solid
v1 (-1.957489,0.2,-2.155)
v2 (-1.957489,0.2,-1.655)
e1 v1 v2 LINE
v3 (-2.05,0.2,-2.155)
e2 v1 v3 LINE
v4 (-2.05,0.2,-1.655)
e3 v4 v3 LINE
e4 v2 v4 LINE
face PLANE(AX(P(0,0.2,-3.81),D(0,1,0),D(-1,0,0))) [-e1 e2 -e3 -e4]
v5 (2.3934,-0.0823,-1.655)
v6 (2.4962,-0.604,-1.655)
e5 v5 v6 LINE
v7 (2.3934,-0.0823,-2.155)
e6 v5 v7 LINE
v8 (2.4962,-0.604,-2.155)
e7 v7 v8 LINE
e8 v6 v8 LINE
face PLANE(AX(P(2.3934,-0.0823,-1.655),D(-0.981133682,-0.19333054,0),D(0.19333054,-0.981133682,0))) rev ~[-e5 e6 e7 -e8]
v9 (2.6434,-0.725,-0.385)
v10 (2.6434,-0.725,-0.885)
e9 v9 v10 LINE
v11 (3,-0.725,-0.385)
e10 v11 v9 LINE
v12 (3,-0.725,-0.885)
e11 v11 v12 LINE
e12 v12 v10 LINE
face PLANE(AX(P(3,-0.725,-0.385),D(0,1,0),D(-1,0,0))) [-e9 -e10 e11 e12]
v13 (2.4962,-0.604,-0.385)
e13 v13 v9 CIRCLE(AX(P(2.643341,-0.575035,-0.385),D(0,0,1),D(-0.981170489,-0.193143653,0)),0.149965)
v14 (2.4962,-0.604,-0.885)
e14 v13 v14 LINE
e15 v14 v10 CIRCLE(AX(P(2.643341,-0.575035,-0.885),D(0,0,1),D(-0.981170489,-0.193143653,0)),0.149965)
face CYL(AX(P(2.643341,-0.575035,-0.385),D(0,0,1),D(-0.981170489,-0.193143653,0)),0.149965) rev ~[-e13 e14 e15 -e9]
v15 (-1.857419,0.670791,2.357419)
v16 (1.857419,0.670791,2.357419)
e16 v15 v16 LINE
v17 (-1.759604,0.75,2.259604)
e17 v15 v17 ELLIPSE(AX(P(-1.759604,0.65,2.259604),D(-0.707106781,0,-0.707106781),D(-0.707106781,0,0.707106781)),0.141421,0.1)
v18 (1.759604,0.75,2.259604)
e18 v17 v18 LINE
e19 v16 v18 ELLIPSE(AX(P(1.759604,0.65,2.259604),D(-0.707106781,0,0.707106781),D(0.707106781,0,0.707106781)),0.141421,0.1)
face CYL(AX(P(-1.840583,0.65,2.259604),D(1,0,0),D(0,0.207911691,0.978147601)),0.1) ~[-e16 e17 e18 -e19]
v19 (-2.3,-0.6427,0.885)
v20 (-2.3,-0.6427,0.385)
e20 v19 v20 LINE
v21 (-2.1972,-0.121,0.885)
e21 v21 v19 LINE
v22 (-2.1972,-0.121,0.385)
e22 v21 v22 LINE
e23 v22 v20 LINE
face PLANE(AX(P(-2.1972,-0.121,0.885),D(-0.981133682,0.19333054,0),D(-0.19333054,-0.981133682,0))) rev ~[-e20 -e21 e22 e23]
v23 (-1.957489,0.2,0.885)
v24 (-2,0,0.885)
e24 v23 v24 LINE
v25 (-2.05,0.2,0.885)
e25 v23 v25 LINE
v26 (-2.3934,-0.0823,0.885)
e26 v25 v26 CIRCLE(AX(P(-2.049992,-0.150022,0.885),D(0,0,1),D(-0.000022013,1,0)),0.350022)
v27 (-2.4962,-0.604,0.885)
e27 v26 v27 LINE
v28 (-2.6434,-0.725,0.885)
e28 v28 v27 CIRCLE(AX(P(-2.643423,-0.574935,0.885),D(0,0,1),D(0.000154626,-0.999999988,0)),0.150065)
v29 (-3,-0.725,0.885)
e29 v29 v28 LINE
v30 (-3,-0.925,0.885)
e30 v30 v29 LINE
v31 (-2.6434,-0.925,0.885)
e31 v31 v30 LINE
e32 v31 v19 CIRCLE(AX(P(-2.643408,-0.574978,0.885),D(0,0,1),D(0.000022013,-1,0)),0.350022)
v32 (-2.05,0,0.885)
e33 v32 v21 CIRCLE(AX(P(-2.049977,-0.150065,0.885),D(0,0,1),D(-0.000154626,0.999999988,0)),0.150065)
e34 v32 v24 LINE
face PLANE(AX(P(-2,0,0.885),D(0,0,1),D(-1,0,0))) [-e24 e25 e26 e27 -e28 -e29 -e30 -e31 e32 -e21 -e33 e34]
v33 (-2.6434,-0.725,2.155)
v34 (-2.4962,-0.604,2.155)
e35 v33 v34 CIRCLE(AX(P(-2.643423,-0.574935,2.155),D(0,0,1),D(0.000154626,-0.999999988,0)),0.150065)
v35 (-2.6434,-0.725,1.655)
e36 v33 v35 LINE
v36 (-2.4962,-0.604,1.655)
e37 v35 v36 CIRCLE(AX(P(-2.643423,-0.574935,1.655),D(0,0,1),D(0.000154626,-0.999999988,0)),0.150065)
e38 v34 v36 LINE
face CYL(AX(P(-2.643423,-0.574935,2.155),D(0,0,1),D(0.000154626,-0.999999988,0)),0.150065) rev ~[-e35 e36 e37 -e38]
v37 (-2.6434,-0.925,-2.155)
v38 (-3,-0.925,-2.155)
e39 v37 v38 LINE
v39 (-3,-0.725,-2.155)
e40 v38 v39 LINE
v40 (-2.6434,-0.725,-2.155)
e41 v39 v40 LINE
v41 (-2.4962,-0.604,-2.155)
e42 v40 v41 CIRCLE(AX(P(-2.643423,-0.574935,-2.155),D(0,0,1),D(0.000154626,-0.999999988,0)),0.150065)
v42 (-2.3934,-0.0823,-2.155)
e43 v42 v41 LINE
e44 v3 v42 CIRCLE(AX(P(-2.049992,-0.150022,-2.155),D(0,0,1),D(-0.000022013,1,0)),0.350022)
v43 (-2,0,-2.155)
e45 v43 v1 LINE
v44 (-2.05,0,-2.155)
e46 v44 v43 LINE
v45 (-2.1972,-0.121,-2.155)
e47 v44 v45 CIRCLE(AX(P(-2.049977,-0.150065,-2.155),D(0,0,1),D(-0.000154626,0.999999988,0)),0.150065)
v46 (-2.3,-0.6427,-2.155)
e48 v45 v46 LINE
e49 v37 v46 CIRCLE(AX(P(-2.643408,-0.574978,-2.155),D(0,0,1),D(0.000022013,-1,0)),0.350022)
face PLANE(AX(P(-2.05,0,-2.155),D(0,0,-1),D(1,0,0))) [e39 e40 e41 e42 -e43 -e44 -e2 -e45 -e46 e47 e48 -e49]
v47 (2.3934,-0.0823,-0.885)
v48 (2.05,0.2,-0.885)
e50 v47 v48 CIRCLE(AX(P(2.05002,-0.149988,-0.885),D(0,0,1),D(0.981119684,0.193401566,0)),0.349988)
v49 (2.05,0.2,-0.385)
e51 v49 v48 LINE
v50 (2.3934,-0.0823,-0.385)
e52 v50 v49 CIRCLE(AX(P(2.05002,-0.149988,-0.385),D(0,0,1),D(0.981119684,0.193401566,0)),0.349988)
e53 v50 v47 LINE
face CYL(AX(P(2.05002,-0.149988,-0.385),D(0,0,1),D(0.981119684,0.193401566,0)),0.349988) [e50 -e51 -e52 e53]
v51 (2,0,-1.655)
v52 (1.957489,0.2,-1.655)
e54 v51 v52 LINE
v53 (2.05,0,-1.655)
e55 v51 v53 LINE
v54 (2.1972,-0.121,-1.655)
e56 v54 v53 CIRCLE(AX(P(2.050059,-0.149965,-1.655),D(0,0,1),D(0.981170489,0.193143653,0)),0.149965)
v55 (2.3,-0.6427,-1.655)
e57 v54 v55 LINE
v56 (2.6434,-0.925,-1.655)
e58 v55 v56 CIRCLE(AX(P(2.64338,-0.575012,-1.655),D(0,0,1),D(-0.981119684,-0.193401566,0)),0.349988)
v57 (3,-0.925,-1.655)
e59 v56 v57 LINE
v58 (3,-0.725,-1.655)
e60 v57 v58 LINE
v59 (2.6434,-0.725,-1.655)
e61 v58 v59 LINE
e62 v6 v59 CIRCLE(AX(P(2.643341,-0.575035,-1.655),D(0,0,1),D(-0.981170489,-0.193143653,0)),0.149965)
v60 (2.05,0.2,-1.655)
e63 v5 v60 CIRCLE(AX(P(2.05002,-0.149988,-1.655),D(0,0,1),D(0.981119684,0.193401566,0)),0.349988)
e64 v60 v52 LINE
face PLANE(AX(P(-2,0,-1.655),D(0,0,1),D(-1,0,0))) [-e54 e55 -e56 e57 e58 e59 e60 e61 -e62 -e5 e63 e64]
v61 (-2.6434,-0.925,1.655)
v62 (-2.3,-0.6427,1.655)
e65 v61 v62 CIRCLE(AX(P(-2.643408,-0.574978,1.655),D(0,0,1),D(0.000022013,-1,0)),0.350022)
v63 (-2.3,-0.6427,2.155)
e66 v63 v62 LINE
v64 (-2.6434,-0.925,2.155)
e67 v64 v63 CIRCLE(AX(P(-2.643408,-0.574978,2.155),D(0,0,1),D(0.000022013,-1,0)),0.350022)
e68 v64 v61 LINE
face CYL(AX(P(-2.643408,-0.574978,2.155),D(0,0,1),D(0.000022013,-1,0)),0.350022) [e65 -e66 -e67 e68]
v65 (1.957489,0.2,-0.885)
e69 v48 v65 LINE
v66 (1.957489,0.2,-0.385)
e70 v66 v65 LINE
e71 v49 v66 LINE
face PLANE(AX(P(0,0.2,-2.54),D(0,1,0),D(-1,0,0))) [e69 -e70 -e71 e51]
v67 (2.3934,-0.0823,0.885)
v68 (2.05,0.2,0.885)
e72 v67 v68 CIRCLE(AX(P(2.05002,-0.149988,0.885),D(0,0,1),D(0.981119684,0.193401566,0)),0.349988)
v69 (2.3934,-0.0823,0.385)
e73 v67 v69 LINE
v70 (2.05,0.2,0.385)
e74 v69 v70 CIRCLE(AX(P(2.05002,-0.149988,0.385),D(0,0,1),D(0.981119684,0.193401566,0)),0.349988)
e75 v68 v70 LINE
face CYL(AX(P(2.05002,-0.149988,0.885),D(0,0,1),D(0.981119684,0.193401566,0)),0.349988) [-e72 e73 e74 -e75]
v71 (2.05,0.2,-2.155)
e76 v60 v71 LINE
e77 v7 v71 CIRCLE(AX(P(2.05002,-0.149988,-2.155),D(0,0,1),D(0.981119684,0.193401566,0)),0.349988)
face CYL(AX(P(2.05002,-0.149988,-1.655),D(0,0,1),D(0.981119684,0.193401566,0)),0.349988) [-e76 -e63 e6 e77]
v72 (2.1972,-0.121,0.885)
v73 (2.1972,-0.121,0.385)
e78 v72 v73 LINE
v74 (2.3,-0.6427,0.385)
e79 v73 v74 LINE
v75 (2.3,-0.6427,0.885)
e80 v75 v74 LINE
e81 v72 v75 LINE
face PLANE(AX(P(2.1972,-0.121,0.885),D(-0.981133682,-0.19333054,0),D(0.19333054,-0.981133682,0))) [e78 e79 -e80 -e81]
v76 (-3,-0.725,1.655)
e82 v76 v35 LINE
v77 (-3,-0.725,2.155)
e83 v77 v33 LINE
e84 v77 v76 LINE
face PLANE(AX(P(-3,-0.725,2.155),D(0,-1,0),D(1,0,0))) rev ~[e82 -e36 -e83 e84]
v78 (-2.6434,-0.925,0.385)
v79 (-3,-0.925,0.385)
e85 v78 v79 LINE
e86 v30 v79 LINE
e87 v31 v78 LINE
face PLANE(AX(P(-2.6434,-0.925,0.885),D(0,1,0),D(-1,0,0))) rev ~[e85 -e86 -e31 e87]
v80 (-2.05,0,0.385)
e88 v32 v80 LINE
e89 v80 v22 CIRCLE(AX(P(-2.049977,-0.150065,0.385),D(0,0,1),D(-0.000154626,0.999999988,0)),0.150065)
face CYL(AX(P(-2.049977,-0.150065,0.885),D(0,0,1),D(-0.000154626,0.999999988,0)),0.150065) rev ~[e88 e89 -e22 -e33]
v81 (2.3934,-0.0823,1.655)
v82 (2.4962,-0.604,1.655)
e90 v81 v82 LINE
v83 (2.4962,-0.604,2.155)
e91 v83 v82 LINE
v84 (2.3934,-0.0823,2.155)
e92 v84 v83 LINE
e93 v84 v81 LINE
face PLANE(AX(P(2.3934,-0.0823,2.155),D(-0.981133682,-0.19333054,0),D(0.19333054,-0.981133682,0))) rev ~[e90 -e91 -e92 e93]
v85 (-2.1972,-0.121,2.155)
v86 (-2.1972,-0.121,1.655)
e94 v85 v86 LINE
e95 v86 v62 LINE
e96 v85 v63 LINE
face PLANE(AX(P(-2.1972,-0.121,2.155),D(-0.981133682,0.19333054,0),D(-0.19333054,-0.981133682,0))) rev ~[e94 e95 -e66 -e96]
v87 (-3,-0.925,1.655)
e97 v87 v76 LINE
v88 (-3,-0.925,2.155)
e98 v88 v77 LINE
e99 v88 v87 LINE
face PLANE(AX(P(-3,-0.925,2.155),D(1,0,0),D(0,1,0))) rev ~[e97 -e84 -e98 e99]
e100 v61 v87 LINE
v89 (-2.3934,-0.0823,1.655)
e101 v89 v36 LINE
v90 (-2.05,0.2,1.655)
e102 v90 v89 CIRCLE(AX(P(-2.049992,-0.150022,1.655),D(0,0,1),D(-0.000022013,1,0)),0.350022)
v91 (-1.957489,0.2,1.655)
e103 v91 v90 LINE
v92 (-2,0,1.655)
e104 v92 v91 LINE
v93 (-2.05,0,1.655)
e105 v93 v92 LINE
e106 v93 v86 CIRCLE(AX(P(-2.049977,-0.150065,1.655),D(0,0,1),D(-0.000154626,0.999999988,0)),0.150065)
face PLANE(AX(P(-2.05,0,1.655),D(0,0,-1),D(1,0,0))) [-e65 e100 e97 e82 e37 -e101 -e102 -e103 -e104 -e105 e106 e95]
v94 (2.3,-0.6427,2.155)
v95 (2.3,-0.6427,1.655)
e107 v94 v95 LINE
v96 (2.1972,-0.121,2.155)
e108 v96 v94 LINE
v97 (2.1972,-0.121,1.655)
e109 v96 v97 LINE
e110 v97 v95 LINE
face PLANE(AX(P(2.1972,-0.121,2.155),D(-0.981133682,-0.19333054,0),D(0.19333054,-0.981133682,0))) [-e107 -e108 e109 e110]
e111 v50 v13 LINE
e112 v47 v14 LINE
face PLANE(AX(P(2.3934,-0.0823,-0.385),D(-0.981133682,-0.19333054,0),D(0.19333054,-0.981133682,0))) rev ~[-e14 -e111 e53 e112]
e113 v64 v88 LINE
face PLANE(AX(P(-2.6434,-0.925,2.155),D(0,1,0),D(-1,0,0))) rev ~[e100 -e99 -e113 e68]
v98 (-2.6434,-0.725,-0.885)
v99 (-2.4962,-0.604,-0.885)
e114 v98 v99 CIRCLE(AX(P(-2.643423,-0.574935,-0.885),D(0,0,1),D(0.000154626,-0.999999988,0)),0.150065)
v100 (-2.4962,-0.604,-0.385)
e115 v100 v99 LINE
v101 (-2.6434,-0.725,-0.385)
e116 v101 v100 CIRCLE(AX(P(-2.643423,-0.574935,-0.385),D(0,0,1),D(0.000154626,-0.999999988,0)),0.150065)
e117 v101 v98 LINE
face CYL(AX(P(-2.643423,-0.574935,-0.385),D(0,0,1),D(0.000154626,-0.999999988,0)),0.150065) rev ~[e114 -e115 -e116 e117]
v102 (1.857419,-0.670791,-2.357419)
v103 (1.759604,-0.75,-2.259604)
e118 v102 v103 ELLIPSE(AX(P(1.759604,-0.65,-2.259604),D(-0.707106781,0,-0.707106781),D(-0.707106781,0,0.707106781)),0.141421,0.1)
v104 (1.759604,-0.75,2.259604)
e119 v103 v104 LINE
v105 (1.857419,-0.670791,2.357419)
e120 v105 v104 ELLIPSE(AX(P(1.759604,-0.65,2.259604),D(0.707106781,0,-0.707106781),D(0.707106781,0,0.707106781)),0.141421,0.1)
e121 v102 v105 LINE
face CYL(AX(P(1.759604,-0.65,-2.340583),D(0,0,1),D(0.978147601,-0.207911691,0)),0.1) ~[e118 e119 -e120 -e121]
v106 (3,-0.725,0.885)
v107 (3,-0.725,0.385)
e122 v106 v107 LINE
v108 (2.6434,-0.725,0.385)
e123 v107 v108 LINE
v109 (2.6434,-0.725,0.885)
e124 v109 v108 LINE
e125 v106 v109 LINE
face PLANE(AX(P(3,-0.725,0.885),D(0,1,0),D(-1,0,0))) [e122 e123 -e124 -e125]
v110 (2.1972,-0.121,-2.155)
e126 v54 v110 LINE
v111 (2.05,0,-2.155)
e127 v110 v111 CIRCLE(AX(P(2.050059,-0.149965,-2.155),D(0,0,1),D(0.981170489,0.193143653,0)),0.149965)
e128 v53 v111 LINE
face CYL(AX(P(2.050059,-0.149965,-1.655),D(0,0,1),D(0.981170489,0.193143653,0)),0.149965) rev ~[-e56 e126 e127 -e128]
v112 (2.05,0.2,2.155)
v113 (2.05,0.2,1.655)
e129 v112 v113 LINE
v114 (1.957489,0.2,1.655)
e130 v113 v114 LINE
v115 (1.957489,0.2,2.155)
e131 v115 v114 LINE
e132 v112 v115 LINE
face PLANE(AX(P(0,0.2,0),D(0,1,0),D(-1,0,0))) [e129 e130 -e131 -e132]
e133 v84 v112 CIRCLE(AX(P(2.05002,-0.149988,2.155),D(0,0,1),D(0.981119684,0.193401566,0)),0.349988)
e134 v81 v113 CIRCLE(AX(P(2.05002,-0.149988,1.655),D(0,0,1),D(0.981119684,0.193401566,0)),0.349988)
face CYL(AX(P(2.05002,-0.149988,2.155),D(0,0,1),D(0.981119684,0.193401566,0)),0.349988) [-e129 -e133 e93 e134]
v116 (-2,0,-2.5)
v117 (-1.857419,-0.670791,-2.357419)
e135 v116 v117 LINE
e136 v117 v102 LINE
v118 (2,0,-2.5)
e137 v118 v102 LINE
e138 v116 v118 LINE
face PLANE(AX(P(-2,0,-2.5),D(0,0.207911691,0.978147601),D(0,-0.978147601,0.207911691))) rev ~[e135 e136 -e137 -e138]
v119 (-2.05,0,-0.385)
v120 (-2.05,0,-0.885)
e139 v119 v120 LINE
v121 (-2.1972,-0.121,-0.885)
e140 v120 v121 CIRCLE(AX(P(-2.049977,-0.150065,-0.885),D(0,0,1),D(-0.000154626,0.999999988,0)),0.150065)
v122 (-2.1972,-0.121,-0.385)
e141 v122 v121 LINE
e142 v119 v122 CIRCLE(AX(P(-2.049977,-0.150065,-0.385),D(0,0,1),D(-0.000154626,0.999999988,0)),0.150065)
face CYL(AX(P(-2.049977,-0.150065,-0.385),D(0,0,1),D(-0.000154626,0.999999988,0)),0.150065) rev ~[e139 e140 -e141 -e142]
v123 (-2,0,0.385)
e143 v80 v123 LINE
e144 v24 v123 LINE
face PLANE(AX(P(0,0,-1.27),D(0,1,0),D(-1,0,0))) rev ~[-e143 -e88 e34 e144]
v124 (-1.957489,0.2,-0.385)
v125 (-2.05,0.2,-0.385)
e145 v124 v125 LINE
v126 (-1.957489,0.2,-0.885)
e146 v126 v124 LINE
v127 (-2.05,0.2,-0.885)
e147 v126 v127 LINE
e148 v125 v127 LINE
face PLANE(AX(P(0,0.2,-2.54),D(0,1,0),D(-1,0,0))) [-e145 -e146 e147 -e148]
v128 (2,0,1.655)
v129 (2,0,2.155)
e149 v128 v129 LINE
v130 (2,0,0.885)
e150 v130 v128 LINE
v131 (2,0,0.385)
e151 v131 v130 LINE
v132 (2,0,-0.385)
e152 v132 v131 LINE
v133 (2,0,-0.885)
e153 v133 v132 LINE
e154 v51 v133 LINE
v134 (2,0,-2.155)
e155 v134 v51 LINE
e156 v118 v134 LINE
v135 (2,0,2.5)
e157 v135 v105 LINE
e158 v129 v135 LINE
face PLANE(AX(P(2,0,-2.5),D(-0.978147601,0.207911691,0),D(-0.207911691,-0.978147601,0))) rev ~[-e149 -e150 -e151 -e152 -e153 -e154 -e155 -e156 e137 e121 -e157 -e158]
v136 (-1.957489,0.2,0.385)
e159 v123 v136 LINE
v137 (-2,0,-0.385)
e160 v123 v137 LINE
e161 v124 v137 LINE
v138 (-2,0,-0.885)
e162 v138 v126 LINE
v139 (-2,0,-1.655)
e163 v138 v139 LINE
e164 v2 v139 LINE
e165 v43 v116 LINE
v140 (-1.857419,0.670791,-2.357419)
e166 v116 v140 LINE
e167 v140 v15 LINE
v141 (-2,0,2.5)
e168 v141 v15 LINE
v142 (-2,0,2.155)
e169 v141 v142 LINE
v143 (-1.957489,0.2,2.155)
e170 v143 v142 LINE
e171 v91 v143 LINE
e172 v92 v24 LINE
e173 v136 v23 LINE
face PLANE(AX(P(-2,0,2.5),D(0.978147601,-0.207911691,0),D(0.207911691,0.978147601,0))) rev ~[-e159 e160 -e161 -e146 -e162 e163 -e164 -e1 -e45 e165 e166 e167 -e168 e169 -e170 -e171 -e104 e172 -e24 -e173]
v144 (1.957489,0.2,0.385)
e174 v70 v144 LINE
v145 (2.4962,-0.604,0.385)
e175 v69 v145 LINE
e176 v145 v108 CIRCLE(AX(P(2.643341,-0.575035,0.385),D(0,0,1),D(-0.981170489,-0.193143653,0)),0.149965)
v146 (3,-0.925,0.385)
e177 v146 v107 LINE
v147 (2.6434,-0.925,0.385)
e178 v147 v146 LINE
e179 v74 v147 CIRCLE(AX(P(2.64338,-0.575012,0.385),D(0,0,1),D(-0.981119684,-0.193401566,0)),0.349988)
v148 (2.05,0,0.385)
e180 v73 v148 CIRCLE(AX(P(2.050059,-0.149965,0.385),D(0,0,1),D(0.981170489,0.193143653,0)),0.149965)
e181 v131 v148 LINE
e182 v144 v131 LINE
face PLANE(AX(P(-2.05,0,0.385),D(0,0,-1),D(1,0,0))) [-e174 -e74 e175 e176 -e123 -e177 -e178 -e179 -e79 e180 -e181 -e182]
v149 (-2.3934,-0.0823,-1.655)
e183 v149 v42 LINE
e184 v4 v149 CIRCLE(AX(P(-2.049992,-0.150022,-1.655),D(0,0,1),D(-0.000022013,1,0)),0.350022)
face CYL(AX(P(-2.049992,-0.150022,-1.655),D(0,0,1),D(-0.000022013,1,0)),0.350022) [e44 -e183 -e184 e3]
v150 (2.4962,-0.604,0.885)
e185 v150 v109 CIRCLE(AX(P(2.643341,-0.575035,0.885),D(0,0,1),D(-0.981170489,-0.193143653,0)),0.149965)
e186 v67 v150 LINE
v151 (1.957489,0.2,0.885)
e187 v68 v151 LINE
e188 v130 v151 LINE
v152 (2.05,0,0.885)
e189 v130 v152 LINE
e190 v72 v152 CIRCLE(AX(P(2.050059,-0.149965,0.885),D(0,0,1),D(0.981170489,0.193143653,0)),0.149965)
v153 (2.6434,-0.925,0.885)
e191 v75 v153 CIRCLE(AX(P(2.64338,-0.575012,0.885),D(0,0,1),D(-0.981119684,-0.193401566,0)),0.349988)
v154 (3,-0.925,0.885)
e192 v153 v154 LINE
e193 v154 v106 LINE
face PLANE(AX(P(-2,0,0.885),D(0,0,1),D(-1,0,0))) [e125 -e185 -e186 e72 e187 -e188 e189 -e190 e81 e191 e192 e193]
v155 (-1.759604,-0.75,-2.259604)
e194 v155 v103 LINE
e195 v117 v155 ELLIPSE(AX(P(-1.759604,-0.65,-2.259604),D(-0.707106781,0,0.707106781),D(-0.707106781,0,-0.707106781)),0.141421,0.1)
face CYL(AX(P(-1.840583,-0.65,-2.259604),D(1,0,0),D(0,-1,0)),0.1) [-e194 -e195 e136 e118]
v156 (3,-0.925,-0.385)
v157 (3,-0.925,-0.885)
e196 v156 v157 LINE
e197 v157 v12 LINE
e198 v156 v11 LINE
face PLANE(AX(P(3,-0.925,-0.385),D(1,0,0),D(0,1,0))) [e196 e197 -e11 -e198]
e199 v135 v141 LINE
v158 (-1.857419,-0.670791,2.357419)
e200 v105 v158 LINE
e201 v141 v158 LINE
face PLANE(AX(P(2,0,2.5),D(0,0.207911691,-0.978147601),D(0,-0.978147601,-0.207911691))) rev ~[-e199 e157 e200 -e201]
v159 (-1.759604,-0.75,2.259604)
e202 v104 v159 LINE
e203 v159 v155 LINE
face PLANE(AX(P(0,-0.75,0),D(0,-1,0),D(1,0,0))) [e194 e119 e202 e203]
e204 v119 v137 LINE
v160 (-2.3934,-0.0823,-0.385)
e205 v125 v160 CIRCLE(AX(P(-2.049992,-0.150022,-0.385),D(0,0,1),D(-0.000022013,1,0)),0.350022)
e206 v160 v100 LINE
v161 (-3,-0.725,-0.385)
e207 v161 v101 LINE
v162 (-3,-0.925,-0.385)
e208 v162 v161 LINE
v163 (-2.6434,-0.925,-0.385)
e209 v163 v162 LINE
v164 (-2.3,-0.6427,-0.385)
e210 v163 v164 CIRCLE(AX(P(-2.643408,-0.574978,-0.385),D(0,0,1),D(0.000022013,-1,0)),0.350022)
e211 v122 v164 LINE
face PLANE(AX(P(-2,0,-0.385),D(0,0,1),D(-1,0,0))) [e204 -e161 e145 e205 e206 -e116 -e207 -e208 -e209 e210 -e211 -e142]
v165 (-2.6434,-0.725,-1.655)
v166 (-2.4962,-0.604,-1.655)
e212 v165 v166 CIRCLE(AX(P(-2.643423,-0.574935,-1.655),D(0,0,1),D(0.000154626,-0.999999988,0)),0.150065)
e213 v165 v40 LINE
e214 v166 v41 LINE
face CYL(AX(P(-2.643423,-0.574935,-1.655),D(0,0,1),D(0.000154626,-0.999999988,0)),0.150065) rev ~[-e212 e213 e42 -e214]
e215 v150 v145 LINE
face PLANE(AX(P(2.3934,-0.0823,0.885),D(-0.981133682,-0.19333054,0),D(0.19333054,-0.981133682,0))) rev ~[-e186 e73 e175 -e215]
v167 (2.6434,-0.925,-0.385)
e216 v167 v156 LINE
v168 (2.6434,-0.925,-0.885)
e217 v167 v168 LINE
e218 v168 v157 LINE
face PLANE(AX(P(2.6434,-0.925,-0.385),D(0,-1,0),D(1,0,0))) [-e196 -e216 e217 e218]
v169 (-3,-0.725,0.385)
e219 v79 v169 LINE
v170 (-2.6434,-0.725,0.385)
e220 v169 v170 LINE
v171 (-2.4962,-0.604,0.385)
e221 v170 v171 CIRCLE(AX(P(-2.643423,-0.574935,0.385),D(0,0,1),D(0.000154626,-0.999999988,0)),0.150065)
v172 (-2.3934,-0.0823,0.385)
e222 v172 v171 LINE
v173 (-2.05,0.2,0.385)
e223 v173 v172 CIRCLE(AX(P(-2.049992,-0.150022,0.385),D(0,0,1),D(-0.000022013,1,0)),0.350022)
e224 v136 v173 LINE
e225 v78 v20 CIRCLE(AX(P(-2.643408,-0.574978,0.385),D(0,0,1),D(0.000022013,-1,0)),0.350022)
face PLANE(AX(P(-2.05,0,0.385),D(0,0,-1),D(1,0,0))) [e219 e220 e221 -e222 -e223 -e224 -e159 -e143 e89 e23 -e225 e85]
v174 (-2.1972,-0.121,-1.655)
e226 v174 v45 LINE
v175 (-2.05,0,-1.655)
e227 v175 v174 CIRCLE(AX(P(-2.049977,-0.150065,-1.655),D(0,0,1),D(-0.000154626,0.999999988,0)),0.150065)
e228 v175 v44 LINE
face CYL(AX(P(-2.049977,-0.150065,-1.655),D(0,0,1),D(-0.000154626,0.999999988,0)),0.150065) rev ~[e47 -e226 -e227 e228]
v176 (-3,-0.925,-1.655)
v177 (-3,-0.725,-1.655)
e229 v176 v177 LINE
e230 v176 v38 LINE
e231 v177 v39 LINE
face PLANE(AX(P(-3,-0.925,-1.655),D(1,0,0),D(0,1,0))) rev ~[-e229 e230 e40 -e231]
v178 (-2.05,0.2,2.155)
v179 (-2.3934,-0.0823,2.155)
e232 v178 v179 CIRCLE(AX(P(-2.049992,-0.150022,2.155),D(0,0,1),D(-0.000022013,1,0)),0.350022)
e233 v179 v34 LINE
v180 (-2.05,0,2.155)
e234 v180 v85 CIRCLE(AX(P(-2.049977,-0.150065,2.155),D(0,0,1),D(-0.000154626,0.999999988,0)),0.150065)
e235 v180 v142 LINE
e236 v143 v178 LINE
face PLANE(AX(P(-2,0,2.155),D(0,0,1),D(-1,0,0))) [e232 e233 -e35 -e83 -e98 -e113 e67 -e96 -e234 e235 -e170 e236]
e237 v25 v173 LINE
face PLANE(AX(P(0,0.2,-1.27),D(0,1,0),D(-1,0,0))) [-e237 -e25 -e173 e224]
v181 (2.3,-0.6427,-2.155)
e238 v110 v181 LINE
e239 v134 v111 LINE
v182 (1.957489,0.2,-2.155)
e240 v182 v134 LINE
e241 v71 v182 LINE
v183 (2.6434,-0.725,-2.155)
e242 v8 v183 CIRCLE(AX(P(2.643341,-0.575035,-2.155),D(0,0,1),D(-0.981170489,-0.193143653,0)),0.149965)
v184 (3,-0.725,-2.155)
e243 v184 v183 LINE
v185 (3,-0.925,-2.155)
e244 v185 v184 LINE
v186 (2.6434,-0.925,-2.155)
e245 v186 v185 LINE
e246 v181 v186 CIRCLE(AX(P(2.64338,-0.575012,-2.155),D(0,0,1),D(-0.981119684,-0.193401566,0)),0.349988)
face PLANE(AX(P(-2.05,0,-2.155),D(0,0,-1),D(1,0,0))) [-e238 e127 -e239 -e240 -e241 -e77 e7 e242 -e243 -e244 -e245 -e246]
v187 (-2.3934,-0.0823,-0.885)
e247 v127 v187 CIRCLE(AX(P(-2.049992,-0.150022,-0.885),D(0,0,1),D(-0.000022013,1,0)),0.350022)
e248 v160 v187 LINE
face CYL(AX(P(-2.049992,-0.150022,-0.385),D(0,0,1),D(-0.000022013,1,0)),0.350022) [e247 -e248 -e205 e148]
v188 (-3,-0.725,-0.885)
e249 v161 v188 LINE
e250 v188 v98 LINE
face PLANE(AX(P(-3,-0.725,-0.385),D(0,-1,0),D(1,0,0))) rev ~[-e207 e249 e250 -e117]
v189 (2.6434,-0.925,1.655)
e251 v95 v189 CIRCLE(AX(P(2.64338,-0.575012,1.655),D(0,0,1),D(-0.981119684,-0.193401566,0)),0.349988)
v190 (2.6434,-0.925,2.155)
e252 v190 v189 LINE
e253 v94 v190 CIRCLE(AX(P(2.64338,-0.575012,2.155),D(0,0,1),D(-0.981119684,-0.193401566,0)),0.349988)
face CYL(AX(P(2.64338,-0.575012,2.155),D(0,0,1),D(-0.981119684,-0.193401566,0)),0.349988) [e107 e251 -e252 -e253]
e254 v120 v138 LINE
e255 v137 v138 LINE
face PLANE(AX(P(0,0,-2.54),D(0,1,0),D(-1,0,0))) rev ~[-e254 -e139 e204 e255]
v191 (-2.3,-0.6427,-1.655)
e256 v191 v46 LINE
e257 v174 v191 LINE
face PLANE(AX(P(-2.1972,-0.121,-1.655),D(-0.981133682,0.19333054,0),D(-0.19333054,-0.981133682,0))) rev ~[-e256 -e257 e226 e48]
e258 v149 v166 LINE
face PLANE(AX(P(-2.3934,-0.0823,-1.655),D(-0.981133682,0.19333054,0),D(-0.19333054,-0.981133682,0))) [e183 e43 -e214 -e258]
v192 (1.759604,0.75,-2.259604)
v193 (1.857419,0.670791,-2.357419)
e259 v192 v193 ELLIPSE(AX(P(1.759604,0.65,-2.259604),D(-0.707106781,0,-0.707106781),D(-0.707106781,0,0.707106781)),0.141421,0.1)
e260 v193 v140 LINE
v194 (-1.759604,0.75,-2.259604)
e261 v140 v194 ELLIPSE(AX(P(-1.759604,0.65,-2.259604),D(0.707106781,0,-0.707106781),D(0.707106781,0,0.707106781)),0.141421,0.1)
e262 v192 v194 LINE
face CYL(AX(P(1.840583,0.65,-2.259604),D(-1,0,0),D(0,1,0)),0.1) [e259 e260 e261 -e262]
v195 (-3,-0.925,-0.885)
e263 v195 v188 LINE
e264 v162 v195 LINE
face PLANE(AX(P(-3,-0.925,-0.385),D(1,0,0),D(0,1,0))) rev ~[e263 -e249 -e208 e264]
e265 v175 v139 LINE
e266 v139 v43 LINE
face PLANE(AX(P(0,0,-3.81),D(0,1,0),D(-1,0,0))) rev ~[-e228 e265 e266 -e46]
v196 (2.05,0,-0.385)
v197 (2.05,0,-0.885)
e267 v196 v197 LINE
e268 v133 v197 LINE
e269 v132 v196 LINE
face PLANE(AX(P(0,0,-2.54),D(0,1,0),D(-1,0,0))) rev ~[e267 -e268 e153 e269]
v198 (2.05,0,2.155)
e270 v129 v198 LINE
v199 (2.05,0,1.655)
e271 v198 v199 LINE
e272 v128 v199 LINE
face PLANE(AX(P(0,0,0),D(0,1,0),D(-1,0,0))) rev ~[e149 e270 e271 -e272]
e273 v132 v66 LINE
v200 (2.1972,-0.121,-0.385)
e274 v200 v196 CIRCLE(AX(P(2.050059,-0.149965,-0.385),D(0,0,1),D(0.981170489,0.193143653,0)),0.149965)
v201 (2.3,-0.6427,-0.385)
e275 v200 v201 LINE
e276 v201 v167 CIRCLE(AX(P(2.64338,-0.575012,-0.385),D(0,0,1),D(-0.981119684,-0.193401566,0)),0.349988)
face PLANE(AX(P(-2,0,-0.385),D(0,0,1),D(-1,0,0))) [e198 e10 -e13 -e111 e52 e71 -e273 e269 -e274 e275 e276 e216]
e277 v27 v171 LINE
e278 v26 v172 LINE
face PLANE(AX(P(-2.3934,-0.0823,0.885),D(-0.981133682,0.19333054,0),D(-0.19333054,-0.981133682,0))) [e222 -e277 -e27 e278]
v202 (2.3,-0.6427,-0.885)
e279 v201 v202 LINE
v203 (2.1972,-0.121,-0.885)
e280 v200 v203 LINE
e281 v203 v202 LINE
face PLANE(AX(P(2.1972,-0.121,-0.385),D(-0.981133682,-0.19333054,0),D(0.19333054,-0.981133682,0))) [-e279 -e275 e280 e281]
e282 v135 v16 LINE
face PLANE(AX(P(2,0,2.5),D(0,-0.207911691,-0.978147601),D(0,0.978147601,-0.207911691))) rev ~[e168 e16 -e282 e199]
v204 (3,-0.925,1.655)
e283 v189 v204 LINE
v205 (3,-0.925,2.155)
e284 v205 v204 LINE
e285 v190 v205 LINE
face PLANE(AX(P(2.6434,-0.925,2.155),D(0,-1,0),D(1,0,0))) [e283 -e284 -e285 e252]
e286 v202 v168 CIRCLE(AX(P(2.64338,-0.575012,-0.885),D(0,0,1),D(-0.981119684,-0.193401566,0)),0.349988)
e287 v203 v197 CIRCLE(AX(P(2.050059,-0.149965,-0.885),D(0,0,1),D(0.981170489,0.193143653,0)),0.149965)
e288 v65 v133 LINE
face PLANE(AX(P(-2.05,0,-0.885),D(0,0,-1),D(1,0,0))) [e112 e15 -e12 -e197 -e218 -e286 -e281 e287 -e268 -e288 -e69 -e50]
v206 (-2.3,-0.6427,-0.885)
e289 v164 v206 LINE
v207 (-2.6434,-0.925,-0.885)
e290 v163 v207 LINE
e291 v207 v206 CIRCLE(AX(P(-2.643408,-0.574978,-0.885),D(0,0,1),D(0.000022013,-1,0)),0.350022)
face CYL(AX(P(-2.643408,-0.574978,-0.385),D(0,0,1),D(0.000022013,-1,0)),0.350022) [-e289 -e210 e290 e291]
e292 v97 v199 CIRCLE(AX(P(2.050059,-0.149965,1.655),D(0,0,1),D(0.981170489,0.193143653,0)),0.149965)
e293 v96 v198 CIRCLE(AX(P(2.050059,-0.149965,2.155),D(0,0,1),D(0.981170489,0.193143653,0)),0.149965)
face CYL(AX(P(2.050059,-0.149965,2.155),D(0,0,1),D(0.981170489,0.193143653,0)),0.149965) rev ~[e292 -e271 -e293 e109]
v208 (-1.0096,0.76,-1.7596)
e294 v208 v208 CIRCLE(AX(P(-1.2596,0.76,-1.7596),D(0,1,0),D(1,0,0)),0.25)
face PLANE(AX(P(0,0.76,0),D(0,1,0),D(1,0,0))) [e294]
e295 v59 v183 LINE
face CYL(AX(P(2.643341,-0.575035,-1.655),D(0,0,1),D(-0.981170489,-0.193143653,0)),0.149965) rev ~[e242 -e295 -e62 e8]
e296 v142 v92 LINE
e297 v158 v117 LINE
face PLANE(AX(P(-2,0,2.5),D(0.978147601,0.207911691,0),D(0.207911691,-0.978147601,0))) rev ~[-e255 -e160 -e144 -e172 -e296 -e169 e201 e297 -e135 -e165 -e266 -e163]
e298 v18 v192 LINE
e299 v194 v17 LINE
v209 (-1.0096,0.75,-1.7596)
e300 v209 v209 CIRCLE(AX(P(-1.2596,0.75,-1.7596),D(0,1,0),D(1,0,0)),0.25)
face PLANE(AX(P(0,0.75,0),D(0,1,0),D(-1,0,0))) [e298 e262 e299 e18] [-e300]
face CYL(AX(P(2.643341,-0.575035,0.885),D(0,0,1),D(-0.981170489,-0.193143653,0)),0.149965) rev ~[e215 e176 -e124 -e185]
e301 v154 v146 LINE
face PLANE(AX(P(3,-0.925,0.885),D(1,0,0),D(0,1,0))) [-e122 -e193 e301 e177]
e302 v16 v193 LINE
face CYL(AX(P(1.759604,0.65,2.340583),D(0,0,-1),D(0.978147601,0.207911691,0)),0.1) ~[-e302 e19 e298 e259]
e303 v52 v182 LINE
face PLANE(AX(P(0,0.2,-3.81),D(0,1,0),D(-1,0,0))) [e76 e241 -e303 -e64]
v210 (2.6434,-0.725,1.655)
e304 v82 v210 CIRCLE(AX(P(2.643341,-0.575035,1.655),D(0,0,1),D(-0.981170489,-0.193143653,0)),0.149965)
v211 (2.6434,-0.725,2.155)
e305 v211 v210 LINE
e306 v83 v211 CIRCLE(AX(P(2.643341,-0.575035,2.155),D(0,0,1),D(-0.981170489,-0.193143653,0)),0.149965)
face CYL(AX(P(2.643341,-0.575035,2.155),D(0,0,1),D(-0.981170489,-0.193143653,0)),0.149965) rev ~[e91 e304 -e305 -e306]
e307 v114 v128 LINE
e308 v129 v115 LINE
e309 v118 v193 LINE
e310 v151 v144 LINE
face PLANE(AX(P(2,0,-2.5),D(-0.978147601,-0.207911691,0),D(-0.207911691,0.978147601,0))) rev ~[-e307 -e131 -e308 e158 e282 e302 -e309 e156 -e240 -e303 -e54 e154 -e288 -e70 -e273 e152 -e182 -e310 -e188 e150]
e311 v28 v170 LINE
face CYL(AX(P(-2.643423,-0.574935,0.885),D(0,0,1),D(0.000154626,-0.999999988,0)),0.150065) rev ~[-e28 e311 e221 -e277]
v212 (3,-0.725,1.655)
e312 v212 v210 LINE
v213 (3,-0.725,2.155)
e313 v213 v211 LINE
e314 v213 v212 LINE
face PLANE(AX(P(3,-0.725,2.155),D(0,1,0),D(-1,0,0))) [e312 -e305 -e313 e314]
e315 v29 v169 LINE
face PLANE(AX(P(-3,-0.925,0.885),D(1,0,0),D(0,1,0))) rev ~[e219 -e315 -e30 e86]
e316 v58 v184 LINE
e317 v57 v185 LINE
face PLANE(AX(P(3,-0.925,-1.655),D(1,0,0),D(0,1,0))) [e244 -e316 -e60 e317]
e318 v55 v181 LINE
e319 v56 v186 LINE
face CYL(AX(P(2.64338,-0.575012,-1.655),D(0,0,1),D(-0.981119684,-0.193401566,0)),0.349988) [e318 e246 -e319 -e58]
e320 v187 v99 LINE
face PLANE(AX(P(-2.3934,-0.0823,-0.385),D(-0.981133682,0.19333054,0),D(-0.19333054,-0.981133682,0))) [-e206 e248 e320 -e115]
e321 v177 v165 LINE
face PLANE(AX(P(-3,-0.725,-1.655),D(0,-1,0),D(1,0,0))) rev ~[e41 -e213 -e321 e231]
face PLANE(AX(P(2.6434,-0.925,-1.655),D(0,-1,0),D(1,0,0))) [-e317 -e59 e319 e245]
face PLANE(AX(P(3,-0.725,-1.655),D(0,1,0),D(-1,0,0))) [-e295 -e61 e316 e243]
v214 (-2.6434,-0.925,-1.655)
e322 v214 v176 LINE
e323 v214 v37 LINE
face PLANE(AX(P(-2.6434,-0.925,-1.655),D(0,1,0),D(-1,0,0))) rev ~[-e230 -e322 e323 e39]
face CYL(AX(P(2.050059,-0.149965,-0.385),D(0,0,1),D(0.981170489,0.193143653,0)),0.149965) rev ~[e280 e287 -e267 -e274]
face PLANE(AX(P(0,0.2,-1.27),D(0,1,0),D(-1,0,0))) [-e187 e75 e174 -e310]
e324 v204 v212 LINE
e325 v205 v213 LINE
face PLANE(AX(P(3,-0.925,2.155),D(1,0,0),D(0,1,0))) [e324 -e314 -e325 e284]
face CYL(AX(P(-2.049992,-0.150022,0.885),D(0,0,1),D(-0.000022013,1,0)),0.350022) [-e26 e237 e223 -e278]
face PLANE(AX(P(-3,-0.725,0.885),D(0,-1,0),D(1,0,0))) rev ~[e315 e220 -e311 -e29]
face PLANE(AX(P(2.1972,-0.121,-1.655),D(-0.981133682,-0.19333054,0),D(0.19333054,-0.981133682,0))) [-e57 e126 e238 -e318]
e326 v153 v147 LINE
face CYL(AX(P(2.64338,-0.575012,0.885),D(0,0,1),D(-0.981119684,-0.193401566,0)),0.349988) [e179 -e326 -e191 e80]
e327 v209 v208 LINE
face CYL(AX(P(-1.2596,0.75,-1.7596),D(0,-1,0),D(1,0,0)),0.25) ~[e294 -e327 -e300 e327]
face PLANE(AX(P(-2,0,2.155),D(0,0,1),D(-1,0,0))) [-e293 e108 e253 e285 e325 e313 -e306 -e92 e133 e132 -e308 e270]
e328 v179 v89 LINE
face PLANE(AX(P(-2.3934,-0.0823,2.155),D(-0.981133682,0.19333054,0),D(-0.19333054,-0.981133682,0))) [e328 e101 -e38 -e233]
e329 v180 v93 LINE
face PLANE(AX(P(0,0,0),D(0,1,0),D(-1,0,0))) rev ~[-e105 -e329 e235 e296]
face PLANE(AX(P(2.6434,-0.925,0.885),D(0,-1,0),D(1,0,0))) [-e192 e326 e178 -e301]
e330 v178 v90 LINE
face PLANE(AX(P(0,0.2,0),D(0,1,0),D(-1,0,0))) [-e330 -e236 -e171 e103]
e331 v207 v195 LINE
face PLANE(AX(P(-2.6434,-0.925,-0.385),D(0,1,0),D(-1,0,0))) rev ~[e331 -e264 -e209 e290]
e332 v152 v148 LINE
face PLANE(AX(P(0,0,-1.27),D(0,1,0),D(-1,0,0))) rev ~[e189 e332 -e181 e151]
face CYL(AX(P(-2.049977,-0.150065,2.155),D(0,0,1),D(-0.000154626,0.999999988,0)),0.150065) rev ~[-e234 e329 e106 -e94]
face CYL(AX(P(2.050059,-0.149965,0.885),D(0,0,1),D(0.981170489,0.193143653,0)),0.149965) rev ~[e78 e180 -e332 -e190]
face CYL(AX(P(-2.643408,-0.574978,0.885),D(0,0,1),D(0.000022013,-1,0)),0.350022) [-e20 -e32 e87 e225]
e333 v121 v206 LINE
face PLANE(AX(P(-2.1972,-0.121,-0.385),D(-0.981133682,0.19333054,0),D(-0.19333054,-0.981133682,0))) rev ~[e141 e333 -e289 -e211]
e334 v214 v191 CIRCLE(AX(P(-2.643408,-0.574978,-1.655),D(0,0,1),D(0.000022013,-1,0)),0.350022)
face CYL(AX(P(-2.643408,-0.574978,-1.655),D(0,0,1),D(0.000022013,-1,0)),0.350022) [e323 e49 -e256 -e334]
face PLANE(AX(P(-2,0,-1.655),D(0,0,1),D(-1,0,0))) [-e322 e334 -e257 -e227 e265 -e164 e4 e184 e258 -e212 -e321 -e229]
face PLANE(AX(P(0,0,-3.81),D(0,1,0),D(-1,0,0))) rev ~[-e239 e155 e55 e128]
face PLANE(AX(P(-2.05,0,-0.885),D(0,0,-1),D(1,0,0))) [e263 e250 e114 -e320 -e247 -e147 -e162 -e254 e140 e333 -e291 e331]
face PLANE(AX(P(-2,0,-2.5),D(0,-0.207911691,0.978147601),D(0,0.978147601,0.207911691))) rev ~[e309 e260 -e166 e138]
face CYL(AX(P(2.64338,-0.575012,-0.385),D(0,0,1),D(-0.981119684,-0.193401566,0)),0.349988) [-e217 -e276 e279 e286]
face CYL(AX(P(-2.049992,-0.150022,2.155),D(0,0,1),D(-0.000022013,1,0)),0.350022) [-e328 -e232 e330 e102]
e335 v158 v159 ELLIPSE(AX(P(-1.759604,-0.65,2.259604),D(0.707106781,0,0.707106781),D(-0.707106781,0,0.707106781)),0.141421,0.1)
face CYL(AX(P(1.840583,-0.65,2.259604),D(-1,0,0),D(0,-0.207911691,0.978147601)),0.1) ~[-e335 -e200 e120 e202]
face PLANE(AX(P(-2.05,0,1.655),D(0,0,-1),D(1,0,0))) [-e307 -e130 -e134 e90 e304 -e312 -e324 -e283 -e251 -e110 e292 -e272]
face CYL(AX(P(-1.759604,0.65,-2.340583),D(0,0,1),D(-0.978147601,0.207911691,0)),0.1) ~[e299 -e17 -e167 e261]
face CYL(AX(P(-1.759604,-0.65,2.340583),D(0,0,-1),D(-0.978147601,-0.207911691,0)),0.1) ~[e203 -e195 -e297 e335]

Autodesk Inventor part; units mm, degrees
ref_plane "YZ Plane" through (0, 0, 0) normal (1, 0, 0) x (0, 1, 0)
ref_plane "XZ Plane" through (0, 0, 0) normal (0, 1, 0) x (-1, 0, 0)
ref_plane "XY Plane" through (0, 0, 0) normal (0, 0, 1) x (1, 0, 0)
sketch "Sketch1" plane through (0, 0, 0) normal (0, 1, 0) x (-1, 0, 0)
  line L0 (-2, 2.5) -> (2, 2.5)
  line L1 (2, 2.5) -> (2, -2.5)
  line L2 (2, -2.5) -> (-2, -2.5)
  line L3 (-2, -2.5) -> (-2, 2.5)
  line L4 (-2, 2.5) -> (2, -2.5) construction
  line L5 (2, 2.5) -> (-2, -2.5) construction
  point P0 (0, 0)
  dimension "d0" = 4
  dimension "d1" = 5
extrude "Extrusion1" add sketch "Sketch1" along normal blind 0.75 draft -12
sketch "Sketch2" plane through (0, 0, 0) normal (0, -1, 0) x (1, 0, 0)
  line L0 (2, 2.5) -> (-2, 2.5) projected
  line L1 (2, 2.5) -> (-2, 2.5) projected
  line L2 (-2, 2.5) -> (-2, -2.5) projected
  line L3 (-2, -2.5) -> (2, -2.5) projected
  line L4 (2, -2.5) -> (2, 2.5) projected
  point P0 (0, 0)
extrude "Extrusion2" add sketch "Sketch2" along normal blind 0.75 draft -12
fillet "Fillet1" radius 0.1 8 edges at (-1.8406, 0.75, 0) (0, 0.75, 2.3406) (0, 0.75, -2.3406) (1.8406, 0.75, 0) (1.8406, -0.75, 0) (0, -0.75, 2.3406) (-1.8406, -0.75, 0) (0, -0.75, -2.3406)
sketch "Sketch3" plane through (0, 0, 0) normal (0, 1, 0) x (-1, 0, 0)
  line L0 (2, 2.5) -> (2, -2.5) projected
  line L1 (-2, 2.5) -> (2, 2.5) projected
  line L2 (2, 2.155) -> (2.05, 2.155)
  line L3 (2.05, 2.155) -> (2.05, 1.655)
  line L4 (2.05, 1.655) -> (2, 1.655)
  line L5 (2, 1.655) -> (2, 2.155)
  line L6 (-2, -2.5) -> (-2, 2.5) projected
  line L7 (-2, 2.155) -> (-2.05, 2.155)
  line L8 (-2.05, 2.155) -> (-2.05, 1.655)
  line L9 (-2.05, 1.655) -> (-2, 1.655)
  line L10 (-2, 1.655) -> (-2, 2.155)
  line L11 (-2, 1.655) -> (2, 1.655)
  line L12 (2, 1.655) -> (2, 2.155)
  line L13 (2, 2.155) -> (-2, 2.155)
  line L14 (-2, 2.155) -> (-2, 1.655)
  point P0 (0, 0)
  point P1 (2, 1.905)
  dimension "d7" = 0.5
  dimension "d8" = 1.905
  dimension "d9" = 0.05
extrude "Extrusion3" add sketch "Sketch3" along normal blind 0.2 contours L2 L3 L4 L0 | L0 L11 L6 L13 | L6 L9 L8 L7
sketch "Sketch4" plane through (-2.05, 0, 2.155) normal (0, 0, 1) x (1, 0, 0)
  line L0 (0.0925, 0.2) -> (0.05, 0) projected
  line L1 (0, 0.2) -> (0.0925, 0.2) projected
  line L2 (0, 0) -> (0, 0.2) projected
  line L3 (0, 0) -> (0.05, 0) projected
  line L4 (4.05, 0) -> (4.0075, 0.2) projected
  line L5 (4.05, 0) -> (4.1, 0) projected
  line L6 (4.1, 0) -> (4.1, 0.2) projected
  line L7 (4.0075, 0.2) -> (4.1, 0.2) projected
  line L8 (0, 0) -> (0.05, 0) projected
  arc A0 (0, 0) -> (-0.1472, -0.121) centre (0, -0.15) ccw
  arc A1 (-0.5934, -0.925) -> (-0.25, -0.6427) centre (-0.5934, -0.575) ccw
  line L9 (0, 0.2) -> (0.0925, 0.2) projected
  arc A2 (0, 0.2) -> (-0.3434, -0.0823) centre (0, -0.15) ccw
  arc A3 (-0.5934, -0.725) -> (-0.4462, -0.604) centre (-0.5934, -0.575) ccw
  line L10 (-0.5934, -0.925) -> (-0.95, -0.925)
  line L11 (-0.95, -0.925) -> (-0.95, -0.725)
  line L12 (-0.95, -0.725) -> (-0.5934, -0.725)
  line L13 (-0.3434, -0.0823) -> (-0.4462, -0.604)
  line L14 (-0.1472, -0.121) -> (-0.25, -0.6427)
  line L15 (3.8096, -0.75) -> (0.2904, -0.75) projected
  line L16 (0, 0.2) -> (0, 0)
  line L17 (0.2904, 0.75) -> (3.8096, 0.75) projected
  line L18 (2.05, 0.75) -> (2.05, -0.75)
  line L19 (4.1, 0) -> (4.1, 0.2)
  arc A4 (4.2472, -0.121) -> (4.1, 0) centre (4.1, -0.15) ccw
  arc A5 (4.35, -0.6427) -> (4.6934, -0.925) centre (4.6934, -0.575) ccw
  arc A6 (4.4434, -0.0823) -> (4.1, 0.2) centre (4.1, -0.15) ccw
  arc A7 (4.5462, -0.604) -> (4.6934, -0.725) centre (4.6934, -0.575) ccw
  line L20 (4.6934, -0.925) -> (5.05, -0.925)
  line L21 (5.05, -0.925) -> (5.05, -0.725)
  line L22 (5.05, -0.725) -> (4.6934, -0.725)
  line L23 (4.4434, -0.0823) -> (4.5462, -0.604)
  line L24 (4.2472, -0.121) -> (4.35, -0.6427)
  point P0 (2.05, 0)
  dimension "d12" = 0.15
  dimension "d13" = 0.15
  dimension "d16" = 0.7
  dimension "d17" = 0.175
  dimension "d25" = 6
extrude "Extrusion4" add sketch "Sketch4" against normal up to surface (0.5 mm away) contours L2 A0 L14 A1 L10 L11 L12 A3 L13 A2 | L6 A6 L23 A7 L22 L21 L20 A5 L24 A4
pattern_linear "Rectangular Pattern1" count 4 spacing 1.27 along (0, 0, -1) of "Extrusion4", "Extrusion3"
sketch "Sketch5" plane through (0, 0.75, 0) normal (0, 1, 0) x (1, 0, 0)
  line L0 (1.7596, -2.2596) -> (-1.7596, -2.2596) projected
  line L1 (1.7596, 2.2596) -> (1.7596, -2.2596) projected
  line L2 (-1.7596, 2.2596) -> (1.7596, 2.2596) projected
  line L3 (-1.7596, -2.2596) -> (-1.7596, 2.2596) projected
  circle A0 centre (-1.2596, 1.7596) radius 0.25
  circle A1 centre (-1.2596, 1.7596) radius 0.5 construction
  line L4 (-1.7596, -2.2596) -> (-1.7596, 2.2596) projected
  line L5 (-1.7596, -2.2596) -> (1.7596, -2.2596) construction
  line L6 (-1.7596, 2.2596) -> (1.7596, 2.2596) construction
  point P0 (0, 0)
  dimension "d26" = 1
  dimension "d27" = 0.5
extrude "Extrusion5" add sketch "Sketch5" along normal blind 0.01 contours A0
equation "\"d13\" = d12"
properties part number "Semiconductor_SOIC-8" material "ABS Plastic"
